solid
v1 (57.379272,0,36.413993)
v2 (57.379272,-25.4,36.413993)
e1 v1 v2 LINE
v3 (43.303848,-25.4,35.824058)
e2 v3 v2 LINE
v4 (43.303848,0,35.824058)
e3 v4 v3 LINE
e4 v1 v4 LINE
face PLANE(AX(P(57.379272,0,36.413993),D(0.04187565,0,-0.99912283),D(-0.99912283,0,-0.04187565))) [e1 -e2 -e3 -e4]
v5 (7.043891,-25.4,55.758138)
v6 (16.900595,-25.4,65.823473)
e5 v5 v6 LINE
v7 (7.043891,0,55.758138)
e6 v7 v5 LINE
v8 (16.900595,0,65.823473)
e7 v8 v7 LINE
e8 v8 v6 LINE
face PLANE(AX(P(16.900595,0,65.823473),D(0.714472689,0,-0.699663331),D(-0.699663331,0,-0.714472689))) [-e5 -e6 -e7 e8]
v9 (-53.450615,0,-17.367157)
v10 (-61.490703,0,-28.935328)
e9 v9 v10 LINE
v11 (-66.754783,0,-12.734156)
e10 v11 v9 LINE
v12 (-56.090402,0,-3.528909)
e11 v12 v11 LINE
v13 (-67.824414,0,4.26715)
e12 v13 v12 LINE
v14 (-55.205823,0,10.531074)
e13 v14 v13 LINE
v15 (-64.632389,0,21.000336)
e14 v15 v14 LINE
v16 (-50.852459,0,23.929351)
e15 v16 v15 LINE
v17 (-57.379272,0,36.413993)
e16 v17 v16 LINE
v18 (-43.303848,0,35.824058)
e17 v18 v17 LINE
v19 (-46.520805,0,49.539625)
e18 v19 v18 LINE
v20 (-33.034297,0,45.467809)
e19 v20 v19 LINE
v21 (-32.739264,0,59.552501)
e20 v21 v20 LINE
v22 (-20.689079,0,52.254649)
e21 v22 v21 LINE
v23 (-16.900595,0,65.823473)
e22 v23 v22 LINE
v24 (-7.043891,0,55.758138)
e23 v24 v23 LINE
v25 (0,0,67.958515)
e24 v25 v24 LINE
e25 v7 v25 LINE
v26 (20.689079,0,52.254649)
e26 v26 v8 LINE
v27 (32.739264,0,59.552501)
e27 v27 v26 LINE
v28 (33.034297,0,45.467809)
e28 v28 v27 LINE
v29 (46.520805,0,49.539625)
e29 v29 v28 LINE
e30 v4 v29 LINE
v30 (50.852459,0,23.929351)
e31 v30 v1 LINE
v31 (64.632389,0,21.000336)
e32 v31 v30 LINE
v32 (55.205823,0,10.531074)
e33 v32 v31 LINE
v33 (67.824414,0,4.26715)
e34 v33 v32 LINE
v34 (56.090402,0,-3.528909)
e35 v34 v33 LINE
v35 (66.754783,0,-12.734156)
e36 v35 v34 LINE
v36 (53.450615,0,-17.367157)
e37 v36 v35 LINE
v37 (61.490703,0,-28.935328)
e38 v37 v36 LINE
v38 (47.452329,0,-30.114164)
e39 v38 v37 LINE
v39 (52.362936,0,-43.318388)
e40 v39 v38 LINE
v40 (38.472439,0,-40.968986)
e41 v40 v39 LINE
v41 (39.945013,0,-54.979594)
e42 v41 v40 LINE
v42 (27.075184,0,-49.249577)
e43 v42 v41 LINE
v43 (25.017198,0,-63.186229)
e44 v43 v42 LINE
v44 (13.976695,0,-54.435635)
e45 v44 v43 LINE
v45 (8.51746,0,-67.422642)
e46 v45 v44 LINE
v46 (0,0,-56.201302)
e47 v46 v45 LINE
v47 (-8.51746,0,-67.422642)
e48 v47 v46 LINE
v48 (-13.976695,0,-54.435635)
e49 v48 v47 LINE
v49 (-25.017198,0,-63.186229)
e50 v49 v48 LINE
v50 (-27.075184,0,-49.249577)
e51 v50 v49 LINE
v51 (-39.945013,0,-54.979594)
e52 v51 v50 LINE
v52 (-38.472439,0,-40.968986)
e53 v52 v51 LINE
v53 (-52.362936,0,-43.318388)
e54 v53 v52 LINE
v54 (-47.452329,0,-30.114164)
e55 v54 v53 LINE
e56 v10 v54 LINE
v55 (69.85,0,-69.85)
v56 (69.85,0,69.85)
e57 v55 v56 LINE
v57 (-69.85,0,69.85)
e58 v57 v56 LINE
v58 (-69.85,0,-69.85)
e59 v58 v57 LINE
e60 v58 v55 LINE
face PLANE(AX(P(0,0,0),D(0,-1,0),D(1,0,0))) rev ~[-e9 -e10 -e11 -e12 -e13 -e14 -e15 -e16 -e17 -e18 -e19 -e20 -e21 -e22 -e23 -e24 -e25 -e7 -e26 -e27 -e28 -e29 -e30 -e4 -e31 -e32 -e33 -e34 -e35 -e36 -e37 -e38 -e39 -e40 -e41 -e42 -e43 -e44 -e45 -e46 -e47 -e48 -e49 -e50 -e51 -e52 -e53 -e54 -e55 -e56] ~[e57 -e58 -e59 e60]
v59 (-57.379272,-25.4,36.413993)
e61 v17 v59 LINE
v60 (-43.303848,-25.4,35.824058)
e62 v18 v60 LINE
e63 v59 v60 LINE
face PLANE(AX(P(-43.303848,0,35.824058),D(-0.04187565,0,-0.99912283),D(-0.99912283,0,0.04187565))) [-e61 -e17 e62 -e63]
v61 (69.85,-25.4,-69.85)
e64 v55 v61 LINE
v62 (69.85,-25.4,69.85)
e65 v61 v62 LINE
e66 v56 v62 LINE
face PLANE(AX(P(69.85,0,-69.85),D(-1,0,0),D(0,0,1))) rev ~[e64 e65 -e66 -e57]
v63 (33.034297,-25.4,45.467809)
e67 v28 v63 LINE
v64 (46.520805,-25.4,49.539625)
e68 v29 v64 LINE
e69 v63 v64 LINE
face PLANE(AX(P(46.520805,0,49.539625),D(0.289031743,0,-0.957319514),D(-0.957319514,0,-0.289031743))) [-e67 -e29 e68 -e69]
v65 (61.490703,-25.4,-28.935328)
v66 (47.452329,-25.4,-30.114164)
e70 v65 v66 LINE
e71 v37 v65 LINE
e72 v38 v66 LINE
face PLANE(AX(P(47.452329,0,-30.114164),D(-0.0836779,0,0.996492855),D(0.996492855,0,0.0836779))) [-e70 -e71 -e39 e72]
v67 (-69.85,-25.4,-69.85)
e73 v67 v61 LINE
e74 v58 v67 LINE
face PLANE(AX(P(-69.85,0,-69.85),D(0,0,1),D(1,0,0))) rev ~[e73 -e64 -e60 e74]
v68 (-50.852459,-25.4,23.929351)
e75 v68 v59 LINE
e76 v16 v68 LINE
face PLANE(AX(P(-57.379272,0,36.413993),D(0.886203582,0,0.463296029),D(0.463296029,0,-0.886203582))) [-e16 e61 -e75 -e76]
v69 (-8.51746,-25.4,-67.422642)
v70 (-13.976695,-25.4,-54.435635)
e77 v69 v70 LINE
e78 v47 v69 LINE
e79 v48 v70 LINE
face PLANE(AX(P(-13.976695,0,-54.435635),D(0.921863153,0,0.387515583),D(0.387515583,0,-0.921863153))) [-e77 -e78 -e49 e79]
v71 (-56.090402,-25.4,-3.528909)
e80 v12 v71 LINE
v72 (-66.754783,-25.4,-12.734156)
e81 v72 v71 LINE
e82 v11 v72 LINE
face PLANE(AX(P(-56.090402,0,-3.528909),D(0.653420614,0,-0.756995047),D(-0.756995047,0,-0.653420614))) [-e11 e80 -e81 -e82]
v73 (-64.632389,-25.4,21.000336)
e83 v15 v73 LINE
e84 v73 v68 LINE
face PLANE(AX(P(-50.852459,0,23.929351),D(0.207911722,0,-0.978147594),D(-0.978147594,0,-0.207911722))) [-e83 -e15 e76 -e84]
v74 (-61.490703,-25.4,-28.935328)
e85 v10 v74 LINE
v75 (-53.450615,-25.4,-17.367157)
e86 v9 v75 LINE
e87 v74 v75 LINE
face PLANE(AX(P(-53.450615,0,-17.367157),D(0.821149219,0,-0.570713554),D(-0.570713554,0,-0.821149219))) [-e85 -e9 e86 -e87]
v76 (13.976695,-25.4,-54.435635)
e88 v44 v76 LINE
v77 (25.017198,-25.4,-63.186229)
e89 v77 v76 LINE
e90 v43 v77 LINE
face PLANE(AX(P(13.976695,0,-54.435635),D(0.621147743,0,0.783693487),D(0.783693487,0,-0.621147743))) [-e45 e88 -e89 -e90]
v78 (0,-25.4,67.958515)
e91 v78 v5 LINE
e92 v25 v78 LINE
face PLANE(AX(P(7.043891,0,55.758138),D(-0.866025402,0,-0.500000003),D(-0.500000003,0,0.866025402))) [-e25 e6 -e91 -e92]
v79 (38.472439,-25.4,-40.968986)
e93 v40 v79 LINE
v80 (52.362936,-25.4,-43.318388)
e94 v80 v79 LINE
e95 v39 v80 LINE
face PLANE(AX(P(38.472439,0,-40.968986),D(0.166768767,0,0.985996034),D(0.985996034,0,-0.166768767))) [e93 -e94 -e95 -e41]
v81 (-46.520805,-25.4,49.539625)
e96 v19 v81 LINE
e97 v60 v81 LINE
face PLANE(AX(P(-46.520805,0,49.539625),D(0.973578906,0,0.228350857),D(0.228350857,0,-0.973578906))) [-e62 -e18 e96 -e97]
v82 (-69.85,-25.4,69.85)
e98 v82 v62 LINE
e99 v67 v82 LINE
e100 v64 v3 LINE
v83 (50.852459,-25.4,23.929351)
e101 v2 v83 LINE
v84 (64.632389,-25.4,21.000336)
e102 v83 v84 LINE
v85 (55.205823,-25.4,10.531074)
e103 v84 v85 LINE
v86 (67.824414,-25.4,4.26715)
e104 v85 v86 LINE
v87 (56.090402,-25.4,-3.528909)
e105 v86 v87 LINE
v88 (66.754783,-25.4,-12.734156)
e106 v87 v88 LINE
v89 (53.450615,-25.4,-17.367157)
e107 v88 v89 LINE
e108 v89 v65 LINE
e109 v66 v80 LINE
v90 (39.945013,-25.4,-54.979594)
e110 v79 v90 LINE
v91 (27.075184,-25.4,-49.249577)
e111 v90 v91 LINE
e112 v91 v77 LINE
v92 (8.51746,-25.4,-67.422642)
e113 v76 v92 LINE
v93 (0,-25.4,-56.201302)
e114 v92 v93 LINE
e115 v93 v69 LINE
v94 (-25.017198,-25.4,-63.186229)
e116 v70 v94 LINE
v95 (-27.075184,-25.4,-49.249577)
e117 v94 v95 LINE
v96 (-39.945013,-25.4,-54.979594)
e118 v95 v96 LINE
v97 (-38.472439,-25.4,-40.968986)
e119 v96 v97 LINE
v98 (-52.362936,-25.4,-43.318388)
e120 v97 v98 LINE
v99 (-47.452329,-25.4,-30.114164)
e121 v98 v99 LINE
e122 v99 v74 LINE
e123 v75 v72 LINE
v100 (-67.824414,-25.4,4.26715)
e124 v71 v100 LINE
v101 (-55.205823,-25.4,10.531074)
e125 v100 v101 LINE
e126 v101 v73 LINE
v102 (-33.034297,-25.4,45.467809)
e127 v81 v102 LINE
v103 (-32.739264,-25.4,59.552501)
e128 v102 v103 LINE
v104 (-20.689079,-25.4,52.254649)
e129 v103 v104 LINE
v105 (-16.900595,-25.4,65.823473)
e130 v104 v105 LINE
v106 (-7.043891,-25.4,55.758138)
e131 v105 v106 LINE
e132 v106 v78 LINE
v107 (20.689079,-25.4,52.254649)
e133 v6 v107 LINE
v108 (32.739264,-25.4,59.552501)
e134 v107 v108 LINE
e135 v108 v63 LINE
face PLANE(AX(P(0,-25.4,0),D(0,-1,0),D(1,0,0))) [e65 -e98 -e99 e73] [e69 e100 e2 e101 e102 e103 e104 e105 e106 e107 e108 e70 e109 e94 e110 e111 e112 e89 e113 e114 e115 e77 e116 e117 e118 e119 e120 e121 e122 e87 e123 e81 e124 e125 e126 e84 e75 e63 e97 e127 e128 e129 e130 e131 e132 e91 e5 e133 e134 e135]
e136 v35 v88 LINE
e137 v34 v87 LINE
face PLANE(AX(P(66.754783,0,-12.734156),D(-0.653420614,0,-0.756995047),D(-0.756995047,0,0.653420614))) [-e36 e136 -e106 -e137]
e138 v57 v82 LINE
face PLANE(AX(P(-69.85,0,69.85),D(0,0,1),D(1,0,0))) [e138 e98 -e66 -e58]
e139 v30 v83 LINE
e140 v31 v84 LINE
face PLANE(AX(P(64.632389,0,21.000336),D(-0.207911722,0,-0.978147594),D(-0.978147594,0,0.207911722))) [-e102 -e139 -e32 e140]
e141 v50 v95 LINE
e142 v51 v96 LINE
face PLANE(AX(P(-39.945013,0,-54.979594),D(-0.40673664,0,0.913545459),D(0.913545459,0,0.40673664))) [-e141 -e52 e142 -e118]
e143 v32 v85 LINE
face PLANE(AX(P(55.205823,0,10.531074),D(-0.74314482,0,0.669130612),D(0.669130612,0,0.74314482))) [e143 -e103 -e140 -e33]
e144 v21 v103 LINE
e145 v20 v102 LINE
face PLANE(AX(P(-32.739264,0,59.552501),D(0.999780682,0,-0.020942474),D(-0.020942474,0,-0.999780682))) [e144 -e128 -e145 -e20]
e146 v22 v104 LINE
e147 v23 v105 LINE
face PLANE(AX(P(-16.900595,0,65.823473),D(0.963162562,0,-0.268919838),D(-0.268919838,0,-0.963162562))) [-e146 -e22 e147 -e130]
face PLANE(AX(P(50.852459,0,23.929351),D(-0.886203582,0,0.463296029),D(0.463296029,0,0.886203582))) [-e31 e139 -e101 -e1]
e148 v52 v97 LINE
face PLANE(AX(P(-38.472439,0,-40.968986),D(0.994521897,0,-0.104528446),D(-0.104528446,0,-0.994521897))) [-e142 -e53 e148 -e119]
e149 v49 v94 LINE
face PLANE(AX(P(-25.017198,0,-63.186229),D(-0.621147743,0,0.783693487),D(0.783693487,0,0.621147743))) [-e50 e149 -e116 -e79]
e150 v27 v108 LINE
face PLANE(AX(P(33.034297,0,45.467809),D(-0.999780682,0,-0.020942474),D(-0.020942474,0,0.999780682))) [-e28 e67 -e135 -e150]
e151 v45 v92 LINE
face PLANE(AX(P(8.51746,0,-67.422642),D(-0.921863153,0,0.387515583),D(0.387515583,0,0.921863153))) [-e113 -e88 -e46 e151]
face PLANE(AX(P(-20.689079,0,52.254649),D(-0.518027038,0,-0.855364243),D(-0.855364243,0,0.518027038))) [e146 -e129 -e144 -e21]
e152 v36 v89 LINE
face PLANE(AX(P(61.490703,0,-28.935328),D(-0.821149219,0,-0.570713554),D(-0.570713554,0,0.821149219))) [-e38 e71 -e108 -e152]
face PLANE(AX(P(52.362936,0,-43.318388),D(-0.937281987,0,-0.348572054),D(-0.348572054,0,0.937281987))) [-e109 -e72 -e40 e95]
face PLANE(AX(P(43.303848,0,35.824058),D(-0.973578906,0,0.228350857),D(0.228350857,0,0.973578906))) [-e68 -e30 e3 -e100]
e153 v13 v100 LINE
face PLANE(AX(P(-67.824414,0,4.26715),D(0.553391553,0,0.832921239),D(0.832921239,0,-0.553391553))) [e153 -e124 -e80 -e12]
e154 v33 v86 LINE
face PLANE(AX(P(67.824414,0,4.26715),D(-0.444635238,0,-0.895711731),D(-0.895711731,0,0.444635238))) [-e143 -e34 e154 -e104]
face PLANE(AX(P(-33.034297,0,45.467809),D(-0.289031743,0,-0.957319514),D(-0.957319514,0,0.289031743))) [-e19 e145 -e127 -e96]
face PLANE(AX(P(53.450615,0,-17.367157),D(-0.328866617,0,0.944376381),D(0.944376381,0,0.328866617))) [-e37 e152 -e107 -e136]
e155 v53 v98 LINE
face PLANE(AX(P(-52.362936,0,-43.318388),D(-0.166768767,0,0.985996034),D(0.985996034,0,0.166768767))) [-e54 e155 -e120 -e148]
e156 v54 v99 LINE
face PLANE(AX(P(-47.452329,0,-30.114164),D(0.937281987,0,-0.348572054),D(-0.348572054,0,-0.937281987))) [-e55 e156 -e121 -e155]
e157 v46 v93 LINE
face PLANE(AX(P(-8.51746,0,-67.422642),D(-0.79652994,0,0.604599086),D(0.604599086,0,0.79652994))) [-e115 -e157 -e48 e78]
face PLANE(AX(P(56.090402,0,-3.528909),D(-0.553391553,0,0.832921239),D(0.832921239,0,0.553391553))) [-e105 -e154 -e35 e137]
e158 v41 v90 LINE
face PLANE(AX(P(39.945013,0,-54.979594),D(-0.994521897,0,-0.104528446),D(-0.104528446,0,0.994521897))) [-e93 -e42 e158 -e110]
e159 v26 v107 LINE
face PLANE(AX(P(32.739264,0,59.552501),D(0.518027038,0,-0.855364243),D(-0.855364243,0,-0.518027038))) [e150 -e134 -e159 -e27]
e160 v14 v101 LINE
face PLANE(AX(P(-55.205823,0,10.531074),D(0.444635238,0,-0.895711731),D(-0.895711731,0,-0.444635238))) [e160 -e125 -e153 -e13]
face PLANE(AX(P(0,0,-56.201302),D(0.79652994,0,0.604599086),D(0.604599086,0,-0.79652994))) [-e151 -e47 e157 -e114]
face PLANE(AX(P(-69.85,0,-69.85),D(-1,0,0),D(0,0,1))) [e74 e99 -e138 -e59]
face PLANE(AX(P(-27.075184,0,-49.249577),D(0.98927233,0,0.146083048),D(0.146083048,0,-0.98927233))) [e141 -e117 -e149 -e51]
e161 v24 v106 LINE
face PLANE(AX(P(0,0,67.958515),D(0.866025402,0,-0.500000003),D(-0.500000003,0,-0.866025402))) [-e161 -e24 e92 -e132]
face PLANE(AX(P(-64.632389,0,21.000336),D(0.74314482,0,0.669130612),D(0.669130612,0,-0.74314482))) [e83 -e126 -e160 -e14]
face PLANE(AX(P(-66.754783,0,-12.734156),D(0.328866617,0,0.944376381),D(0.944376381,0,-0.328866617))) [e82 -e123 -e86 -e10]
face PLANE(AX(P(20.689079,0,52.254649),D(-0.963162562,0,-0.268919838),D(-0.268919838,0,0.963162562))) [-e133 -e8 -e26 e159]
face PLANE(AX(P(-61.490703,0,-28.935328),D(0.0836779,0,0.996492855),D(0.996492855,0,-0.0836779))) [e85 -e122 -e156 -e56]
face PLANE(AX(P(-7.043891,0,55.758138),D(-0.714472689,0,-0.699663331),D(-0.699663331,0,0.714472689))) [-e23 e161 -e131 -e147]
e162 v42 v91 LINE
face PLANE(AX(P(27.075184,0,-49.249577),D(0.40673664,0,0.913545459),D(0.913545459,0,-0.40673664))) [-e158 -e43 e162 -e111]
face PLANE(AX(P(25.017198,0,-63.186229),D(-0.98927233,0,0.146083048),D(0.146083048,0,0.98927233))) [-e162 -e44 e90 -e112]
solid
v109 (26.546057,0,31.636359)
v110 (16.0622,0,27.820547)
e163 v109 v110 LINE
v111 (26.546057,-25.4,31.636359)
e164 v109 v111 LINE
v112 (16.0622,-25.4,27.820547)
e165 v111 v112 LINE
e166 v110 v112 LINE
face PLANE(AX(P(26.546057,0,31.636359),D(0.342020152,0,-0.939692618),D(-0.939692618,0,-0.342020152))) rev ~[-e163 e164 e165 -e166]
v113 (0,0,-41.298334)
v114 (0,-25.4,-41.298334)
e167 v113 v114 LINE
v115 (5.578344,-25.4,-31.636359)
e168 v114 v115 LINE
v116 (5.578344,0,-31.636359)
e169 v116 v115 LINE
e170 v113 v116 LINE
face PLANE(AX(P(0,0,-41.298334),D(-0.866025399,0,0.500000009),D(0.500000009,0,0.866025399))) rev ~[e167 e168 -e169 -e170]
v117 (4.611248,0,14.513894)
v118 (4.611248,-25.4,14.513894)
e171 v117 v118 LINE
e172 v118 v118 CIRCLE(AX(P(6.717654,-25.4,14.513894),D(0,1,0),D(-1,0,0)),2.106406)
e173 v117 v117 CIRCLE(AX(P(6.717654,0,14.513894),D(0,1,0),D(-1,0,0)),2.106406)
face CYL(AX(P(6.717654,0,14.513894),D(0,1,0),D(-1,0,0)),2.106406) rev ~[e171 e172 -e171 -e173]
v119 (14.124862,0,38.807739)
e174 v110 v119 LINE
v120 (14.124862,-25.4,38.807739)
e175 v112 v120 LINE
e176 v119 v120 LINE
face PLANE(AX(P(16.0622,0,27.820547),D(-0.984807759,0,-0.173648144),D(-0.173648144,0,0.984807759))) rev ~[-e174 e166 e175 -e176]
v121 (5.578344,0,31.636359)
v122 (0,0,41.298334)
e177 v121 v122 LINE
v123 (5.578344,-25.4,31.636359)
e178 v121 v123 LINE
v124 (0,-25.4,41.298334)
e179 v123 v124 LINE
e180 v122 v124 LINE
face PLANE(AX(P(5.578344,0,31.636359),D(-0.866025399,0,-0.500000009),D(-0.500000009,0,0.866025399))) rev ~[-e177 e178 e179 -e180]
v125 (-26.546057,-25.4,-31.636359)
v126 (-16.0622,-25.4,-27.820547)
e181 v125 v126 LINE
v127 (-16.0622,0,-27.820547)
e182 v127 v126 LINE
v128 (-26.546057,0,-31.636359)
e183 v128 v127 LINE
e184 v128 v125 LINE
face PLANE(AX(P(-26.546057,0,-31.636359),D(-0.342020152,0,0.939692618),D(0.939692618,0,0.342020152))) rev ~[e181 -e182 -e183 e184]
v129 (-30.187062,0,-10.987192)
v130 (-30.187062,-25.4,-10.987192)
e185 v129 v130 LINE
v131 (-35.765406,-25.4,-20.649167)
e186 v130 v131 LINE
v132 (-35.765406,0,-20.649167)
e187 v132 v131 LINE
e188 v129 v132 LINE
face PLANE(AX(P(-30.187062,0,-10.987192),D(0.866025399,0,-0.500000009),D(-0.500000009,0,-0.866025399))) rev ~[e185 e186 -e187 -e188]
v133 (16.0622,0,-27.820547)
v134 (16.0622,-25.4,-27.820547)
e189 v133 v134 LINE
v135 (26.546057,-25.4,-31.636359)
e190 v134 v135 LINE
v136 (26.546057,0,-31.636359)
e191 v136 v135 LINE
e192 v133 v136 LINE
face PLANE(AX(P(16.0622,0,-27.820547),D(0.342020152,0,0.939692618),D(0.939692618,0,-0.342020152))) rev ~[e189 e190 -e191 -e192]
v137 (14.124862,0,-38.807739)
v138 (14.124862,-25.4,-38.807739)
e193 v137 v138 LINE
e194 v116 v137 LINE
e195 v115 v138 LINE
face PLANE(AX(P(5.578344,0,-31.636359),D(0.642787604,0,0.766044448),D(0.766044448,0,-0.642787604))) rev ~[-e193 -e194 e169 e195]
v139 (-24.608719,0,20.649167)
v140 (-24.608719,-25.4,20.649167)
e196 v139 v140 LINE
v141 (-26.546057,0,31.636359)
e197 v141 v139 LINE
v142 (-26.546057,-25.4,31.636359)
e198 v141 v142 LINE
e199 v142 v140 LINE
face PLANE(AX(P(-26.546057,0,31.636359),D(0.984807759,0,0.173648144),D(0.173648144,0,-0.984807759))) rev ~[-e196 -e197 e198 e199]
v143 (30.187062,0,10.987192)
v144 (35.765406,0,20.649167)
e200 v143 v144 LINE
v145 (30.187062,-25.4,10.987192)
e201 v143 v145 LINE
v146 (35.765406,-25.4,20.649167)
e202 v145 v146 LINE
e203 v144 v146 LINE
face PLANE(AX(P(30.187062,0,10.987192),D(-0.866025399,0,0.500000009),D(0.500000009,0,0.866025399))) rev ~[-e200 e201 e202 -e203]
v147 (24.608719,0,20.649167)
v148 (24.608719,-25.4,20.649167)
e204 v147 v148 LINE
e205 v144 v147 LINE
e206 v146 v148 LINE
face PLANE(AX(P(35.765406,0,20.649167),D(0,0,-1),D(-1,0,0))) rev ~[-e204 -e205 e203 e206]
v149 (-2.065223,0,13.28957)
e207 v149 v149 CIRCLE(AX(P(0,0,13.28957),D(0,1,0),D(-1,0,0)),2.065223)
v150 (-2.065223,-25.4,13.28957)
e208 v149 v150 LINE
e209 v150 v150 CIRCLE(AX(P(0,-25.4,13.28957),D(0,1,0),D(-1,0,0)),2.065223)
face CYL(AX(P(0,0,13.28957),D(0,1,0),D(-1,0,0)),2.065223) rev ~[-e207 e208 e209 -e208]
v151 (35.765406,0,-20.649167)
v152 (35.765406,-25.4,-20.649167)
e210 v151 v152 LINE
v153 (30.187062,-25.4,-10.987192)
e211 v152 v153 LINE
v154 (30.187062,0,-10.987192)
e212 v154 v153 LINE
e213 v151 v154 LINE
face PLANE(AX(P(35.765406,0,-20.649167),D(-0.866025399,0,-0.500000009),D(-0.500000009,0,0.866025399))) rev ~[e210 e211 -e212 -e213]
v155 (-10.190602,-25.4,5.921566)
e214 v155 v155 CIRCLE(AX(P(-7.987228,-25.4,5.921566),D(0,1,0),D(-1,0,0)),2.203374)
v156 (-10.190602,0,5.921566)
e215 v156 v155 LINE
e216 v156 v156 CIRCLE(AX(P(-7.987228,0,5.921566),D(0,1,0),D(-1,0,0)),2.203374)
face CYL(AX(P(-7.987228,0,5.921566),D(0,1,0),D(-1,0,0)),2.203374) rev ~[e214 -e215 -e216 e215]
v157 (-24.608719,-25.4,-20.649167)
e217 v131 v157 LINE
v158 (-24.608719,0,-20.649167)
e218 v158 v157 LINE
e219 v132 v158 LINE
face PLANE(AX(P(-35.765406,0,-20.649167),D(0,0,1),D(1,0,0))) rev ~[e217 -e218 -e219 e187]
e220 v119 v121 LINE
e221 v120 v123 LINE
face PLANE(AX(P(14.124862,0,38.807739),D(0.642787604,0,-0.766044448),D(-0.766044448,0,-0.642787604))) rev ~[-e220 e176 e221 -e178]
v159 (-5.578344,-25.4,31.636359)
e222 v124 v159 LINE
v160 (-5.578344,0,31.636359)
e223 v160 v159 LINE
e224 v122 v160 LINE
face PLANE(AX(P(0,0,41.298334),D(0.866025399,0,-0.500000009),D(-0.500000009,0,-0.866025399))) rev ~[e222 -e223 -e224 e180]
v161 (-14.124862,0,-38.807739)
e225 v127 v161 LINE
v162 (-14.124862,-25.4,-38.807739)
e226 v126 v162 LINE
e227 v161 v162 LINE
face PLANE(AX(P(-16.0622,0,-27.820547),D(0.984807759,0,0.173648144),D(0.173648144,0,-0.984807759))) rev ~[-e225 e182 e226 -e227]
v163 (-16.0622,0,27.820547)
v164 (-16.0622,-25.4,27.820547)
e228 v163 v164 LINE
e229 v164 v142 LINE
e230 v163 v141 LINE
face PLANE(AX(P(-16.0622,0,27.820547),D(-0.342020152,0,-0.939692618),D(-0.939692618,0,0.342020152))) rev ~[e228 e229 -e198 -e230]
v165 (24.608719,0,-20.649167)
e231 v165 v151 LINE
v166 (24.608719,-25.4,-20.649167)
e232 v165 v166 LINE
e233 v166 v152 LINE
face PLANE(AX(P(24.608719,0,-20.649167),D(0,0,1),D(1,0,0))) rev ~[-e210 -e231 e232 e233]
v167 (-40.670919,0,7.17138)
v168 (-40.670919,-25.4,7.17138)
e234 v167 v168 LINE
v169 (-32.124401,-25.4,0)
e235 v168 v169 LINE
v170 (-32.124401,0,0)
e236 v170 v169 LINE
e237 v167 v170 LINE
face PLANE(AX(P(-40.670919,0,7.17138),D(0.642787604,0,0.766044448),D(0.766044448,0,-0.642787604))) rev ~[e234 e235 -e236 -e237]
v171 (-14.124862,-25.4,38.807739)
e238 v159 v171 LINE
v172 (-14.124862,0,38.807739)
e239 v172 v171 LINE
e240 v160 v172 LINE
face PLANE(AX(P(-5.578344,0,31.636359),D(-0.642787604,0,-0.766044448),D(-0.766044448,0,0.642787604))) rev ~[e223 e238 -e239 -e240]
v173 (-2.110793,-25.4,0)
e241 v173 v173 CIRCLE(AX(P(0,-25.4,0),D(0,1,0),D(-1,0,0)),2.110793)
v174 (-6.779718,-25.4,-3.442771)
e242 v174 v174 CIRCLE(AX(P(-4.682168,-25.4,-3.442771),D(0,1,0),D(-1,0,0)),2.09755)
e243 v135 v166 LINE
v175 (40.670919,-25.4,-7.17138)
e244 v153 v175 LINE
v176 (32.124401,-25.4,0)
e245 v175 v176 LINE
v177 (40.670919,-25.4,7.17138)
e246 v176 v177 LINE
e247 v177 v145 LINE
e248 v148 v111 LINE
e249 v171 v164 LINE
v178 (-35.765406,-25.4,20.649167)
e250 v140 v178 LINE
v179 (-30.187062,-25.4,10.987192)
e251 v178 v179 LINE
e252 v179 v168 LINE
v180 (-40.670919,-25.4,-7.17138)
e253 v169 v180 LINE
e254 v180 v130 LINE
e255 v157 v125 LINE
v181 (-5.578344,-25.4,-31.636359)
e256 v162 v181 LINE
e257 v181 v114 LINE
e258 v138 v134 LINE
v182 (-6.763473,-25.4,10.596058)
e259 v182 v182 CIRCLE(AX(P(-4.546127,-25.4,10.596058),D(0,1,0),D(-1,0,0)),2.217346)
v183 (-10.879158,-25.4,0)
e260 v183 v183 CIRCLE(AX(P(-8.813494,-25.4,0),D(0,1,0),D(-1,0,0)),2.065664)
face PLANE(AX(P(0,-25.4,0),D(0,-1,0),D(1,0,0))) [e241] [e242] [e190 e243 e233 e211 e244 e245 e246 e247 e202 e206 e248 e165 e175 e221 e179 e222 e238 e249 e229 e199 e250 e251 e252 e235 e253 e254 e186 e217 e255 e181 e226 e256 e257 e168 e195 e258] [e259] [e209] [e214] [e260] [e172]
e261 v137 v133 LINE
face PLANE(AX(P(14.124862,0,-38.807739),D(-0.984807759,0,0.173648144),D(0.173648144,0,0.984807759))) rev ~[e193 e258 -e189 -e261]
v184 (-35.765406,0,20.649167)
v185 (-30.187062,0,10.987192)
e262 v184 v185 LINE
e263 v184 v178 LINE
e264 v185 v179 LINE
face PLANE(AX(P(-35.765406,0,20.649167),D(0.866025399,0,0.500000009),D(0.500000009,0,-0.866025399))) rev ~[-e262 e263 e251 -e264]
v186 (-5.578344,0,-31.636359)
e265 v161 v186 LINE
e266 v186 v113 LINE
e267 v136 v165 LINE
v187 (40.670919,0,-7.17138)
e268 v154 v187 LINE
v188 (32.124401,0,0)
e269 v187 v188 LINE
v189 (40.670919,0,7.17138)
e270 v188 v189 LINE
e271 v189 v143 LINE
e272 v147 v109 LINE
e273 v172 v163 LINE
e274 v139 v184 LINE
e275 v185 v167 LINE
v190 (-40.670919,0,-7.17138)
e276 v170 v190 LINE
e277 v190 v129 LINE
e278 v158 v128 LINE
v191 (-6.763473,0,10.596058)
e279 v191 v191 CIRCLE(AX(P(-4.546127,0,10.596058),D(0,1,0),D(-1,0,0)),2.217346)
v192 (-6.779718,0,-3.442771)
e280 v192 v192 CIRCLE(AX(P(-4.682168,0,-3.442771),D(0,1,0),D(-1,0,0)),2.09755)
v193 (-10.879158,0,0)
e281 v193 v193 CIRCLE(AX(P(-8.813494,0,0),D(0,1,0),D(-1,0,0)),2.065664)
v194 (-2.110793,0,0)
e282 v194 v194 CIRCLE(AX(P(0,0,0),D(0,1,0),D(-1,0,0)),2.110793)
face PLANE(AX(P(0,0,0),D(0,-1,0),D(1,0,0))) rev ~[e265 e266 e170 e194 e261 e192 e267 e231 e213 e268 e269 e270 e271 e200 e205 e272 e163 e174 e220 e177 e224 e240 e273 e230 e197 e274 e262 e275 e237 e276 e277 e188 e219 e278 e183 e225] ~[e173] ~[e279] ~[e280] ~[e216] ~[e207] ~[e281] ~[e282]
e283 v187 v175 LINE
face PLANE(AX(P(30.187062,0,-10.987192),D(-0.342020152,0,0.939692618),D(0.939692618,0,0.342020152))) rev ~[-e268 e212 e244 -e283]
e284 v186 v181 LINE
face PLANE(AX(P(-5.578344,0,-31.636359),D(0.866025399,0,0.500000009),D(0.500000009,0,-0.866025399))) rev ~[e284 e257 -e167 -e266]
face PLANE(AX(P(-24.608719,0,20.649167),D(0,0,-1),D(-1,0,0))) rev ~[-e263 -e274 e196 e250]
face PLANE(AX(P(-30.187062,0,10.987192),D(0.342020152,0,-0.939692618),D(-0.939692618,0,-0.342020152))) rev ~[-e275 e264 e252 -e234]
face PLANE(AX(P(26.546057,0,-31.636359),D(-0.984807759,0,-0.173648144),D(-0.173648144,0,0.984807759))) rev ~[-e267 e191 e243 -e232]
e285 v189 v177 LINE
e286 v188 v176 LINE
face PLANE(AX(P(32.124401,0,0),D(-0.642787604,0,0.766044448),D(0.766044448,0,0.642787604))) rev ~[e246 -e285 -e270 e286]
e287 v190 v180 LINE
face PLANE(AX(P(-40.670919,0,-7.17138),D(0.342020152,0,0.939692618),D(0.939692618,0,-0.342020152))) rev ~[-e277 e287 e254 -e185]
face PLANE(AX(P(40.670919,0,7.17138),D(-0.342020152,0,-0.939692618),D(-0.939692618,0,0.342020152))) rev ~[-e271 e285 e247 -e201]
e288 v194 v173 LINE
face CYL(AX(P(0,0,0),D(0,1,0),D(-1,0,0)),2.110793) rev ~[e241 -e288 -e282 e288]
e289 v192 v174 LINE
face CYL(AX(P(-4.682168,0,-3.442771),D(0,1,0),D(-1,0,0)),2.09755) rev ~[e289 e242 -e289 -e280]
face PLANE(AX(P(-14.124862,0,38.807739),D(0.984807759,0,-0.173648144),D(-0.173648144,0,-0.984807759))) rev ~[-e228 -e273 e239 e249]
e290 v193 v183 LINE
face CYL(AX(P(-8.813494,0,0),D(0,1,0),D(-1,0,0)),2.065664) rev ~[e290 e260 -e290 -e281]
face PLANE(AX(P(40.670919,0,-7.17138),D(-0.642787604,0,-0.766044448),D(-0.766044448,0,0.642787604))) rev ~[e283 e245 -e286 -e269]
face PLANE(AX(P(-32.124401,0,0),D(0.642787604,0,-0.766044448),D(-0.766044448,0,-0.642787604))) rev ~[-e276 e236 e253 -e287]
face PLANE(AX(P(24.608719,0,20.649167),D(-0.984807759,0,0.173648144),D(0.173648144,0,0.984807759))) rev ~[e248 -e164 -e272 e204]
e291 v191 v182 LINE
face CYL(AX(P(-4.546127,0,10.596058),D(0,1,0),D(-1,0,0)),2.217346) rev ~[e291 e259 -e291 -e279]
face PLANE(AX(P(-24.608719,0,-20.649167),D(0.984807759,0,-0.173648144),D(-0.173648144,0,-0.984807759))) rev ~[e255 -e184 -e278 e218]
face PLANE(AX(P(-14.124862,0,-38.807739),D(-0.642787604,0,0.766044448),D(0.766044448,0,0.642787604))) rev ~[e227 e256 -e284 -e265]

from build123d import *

# Parameters (mm, degrees)
F0_W     = 139.7
F0_H     = 139.7
F1_DEPTH = 25.4
F3_DEPTH = 25.401
F5_DEPTH = 25.4
F6_R     = 2.110793
F6_R_2   = 2.09755
F6_R_3   = 2.065664
F6_R_4   = 2.203374
F6_R_5   = 2.217346
F6_R_6   = 2.065223
F6_R_7   = 2.106406
F7_DEPTH = 25.401


with BuildPart() as f1:
    # F0 (on Front) → F1 (new body)
    with BuildSketch(Plane.XZ):
        Rectangle(F0_W, F0_H)
    extrude(amount=F1_DEPTH)

    # F2 (on Front) → F3 (cut, through all)
    with BuildSketch(Plane.XZ):
        Polygon((7.043891, 55.758138), (0, 67.958515), (-7.043891, 55.758138), (-16.900595, 65.823473), (-20.689079, 52.254649), (-32.739264, 59.552501), (-33.034297, 45.467809), (-46.520805, 49.539625), (-43.303848, 35.824058), (-57.379272, 36.413993), (-50.852459, 23.929351), (-64.632389, 21.000336), (-55.205823, 10.531074), (-67.824414, 4.26715), (-56.090402, -3.528909), (-66.754783, -12.734156), (-53.450615, -17.367157), (-61.490703, -28.935328), (-47.452329, -30.114164), (-52.362936, -43.318388), (-38.472439, -40.968986), (-39.945013, -54.979594), (-27.075184, -49.249577), (-25.017198, -63.186229), (-13.976695, -54.435635), (-8.51746, -67.422642), (0, -56.201302), (8.51746, -67.422642), (13.976695, -54.435635), (25.017198, -63.186229), (27.075184, -49.249577), (39.945013, -54.979594), (38.472439, -40.968986), (52.362936, -43.318388), (47.452329, -30.114164), (61.490703, -28.935328), (53.450615, -17.367157), (66.754783, -12.734156), (56.090402, -3.528909), (67.824414, 4.26715), (55.205823, 10.531074), (64.632389, 21.000336), (50.852459, 23.929351), (57.379272, 36.413993), (43.303848, 35.824058), (46.520805, 49.539625), (33.034297, 45.467809), (32.739264, 59.552501), (20.689079, 52.254649), (16.900595, 65.823473), align=None)
    extrude(amount=F3_DEPTH, mode=Mode.SUBTRACT)


with BuildPart() as f5:
    # F4 (on Front) → F5 (new body)
    with BuildSketch(Plane.XZ):
        Polygon((5.578344, 31.636359), (0, 41.298334), (-5.578344, 31.636359), (-14.124862, 38.807739), (-16.0622, 27.820547), (-26.546057, 31.636359), (-24.608719, 20.649167), (-35.765406, 20.649167), (-30.187062, 10.987192), (-40.670919, 7.17138), (-32.124401, 0), (-40.670919, -7.17138), (-30.187062, -10.987192), (-35.765406, -20.649167), (-24.608719, -20.649167), (-26.546057, -31.636359), (-16.0622, -27.820547), (-14.124862, -38.807739), (-5.578344, -31.636359), (0, -41.298334), (5.578344, -31.636359), (14.124862, -38.807739), (16.0622, -27.820547), (26.546057, -31.636359), (24.608719, -20.649167), (35.765406, -20.649167), (30.187062, -10.987192), (40.670919, -7.17138), (32.124401, 0), (40.670919, 7.17138), (30.187062, 10.987192), (35.765406, 20.649167), (24.608719, 20.649167), (26.546057, 31.636359), (16.0622, 27.820547), (14.124862, 38.807739), align=None)
    extrude(amount=F5_DEPTH)

    # F6 (on face) → F7 (cut, through all)
    with BuildSketch(Plane(origin=(0, 0, 0), x_dir=(-1, 0, 0), z_dir=(0, 1, 0))):
        Circle(F6_R)
        with Locations((4.682168, -3.442771)):
            Circle(F6_R_2)
        with Locations((8.813494, 0)):
            Circle(F6_R_3)
        with Locations((7.987228, 5.921566)):
            Circle(F6_R_4)
        with Locations((4.546127, 10.596058)):
            Circle(F6_R_5)
        with Locations((0, 13.28957)):
            Circle(F6_R_6)
        with Locations((-6.717654, 14.513894)):
            Circle(F6_R_7)
    extrude(amount=-F7_DEPTH, mode=Mode.SUBTRACT)


solid = Compound([f1.part, f5.part])
